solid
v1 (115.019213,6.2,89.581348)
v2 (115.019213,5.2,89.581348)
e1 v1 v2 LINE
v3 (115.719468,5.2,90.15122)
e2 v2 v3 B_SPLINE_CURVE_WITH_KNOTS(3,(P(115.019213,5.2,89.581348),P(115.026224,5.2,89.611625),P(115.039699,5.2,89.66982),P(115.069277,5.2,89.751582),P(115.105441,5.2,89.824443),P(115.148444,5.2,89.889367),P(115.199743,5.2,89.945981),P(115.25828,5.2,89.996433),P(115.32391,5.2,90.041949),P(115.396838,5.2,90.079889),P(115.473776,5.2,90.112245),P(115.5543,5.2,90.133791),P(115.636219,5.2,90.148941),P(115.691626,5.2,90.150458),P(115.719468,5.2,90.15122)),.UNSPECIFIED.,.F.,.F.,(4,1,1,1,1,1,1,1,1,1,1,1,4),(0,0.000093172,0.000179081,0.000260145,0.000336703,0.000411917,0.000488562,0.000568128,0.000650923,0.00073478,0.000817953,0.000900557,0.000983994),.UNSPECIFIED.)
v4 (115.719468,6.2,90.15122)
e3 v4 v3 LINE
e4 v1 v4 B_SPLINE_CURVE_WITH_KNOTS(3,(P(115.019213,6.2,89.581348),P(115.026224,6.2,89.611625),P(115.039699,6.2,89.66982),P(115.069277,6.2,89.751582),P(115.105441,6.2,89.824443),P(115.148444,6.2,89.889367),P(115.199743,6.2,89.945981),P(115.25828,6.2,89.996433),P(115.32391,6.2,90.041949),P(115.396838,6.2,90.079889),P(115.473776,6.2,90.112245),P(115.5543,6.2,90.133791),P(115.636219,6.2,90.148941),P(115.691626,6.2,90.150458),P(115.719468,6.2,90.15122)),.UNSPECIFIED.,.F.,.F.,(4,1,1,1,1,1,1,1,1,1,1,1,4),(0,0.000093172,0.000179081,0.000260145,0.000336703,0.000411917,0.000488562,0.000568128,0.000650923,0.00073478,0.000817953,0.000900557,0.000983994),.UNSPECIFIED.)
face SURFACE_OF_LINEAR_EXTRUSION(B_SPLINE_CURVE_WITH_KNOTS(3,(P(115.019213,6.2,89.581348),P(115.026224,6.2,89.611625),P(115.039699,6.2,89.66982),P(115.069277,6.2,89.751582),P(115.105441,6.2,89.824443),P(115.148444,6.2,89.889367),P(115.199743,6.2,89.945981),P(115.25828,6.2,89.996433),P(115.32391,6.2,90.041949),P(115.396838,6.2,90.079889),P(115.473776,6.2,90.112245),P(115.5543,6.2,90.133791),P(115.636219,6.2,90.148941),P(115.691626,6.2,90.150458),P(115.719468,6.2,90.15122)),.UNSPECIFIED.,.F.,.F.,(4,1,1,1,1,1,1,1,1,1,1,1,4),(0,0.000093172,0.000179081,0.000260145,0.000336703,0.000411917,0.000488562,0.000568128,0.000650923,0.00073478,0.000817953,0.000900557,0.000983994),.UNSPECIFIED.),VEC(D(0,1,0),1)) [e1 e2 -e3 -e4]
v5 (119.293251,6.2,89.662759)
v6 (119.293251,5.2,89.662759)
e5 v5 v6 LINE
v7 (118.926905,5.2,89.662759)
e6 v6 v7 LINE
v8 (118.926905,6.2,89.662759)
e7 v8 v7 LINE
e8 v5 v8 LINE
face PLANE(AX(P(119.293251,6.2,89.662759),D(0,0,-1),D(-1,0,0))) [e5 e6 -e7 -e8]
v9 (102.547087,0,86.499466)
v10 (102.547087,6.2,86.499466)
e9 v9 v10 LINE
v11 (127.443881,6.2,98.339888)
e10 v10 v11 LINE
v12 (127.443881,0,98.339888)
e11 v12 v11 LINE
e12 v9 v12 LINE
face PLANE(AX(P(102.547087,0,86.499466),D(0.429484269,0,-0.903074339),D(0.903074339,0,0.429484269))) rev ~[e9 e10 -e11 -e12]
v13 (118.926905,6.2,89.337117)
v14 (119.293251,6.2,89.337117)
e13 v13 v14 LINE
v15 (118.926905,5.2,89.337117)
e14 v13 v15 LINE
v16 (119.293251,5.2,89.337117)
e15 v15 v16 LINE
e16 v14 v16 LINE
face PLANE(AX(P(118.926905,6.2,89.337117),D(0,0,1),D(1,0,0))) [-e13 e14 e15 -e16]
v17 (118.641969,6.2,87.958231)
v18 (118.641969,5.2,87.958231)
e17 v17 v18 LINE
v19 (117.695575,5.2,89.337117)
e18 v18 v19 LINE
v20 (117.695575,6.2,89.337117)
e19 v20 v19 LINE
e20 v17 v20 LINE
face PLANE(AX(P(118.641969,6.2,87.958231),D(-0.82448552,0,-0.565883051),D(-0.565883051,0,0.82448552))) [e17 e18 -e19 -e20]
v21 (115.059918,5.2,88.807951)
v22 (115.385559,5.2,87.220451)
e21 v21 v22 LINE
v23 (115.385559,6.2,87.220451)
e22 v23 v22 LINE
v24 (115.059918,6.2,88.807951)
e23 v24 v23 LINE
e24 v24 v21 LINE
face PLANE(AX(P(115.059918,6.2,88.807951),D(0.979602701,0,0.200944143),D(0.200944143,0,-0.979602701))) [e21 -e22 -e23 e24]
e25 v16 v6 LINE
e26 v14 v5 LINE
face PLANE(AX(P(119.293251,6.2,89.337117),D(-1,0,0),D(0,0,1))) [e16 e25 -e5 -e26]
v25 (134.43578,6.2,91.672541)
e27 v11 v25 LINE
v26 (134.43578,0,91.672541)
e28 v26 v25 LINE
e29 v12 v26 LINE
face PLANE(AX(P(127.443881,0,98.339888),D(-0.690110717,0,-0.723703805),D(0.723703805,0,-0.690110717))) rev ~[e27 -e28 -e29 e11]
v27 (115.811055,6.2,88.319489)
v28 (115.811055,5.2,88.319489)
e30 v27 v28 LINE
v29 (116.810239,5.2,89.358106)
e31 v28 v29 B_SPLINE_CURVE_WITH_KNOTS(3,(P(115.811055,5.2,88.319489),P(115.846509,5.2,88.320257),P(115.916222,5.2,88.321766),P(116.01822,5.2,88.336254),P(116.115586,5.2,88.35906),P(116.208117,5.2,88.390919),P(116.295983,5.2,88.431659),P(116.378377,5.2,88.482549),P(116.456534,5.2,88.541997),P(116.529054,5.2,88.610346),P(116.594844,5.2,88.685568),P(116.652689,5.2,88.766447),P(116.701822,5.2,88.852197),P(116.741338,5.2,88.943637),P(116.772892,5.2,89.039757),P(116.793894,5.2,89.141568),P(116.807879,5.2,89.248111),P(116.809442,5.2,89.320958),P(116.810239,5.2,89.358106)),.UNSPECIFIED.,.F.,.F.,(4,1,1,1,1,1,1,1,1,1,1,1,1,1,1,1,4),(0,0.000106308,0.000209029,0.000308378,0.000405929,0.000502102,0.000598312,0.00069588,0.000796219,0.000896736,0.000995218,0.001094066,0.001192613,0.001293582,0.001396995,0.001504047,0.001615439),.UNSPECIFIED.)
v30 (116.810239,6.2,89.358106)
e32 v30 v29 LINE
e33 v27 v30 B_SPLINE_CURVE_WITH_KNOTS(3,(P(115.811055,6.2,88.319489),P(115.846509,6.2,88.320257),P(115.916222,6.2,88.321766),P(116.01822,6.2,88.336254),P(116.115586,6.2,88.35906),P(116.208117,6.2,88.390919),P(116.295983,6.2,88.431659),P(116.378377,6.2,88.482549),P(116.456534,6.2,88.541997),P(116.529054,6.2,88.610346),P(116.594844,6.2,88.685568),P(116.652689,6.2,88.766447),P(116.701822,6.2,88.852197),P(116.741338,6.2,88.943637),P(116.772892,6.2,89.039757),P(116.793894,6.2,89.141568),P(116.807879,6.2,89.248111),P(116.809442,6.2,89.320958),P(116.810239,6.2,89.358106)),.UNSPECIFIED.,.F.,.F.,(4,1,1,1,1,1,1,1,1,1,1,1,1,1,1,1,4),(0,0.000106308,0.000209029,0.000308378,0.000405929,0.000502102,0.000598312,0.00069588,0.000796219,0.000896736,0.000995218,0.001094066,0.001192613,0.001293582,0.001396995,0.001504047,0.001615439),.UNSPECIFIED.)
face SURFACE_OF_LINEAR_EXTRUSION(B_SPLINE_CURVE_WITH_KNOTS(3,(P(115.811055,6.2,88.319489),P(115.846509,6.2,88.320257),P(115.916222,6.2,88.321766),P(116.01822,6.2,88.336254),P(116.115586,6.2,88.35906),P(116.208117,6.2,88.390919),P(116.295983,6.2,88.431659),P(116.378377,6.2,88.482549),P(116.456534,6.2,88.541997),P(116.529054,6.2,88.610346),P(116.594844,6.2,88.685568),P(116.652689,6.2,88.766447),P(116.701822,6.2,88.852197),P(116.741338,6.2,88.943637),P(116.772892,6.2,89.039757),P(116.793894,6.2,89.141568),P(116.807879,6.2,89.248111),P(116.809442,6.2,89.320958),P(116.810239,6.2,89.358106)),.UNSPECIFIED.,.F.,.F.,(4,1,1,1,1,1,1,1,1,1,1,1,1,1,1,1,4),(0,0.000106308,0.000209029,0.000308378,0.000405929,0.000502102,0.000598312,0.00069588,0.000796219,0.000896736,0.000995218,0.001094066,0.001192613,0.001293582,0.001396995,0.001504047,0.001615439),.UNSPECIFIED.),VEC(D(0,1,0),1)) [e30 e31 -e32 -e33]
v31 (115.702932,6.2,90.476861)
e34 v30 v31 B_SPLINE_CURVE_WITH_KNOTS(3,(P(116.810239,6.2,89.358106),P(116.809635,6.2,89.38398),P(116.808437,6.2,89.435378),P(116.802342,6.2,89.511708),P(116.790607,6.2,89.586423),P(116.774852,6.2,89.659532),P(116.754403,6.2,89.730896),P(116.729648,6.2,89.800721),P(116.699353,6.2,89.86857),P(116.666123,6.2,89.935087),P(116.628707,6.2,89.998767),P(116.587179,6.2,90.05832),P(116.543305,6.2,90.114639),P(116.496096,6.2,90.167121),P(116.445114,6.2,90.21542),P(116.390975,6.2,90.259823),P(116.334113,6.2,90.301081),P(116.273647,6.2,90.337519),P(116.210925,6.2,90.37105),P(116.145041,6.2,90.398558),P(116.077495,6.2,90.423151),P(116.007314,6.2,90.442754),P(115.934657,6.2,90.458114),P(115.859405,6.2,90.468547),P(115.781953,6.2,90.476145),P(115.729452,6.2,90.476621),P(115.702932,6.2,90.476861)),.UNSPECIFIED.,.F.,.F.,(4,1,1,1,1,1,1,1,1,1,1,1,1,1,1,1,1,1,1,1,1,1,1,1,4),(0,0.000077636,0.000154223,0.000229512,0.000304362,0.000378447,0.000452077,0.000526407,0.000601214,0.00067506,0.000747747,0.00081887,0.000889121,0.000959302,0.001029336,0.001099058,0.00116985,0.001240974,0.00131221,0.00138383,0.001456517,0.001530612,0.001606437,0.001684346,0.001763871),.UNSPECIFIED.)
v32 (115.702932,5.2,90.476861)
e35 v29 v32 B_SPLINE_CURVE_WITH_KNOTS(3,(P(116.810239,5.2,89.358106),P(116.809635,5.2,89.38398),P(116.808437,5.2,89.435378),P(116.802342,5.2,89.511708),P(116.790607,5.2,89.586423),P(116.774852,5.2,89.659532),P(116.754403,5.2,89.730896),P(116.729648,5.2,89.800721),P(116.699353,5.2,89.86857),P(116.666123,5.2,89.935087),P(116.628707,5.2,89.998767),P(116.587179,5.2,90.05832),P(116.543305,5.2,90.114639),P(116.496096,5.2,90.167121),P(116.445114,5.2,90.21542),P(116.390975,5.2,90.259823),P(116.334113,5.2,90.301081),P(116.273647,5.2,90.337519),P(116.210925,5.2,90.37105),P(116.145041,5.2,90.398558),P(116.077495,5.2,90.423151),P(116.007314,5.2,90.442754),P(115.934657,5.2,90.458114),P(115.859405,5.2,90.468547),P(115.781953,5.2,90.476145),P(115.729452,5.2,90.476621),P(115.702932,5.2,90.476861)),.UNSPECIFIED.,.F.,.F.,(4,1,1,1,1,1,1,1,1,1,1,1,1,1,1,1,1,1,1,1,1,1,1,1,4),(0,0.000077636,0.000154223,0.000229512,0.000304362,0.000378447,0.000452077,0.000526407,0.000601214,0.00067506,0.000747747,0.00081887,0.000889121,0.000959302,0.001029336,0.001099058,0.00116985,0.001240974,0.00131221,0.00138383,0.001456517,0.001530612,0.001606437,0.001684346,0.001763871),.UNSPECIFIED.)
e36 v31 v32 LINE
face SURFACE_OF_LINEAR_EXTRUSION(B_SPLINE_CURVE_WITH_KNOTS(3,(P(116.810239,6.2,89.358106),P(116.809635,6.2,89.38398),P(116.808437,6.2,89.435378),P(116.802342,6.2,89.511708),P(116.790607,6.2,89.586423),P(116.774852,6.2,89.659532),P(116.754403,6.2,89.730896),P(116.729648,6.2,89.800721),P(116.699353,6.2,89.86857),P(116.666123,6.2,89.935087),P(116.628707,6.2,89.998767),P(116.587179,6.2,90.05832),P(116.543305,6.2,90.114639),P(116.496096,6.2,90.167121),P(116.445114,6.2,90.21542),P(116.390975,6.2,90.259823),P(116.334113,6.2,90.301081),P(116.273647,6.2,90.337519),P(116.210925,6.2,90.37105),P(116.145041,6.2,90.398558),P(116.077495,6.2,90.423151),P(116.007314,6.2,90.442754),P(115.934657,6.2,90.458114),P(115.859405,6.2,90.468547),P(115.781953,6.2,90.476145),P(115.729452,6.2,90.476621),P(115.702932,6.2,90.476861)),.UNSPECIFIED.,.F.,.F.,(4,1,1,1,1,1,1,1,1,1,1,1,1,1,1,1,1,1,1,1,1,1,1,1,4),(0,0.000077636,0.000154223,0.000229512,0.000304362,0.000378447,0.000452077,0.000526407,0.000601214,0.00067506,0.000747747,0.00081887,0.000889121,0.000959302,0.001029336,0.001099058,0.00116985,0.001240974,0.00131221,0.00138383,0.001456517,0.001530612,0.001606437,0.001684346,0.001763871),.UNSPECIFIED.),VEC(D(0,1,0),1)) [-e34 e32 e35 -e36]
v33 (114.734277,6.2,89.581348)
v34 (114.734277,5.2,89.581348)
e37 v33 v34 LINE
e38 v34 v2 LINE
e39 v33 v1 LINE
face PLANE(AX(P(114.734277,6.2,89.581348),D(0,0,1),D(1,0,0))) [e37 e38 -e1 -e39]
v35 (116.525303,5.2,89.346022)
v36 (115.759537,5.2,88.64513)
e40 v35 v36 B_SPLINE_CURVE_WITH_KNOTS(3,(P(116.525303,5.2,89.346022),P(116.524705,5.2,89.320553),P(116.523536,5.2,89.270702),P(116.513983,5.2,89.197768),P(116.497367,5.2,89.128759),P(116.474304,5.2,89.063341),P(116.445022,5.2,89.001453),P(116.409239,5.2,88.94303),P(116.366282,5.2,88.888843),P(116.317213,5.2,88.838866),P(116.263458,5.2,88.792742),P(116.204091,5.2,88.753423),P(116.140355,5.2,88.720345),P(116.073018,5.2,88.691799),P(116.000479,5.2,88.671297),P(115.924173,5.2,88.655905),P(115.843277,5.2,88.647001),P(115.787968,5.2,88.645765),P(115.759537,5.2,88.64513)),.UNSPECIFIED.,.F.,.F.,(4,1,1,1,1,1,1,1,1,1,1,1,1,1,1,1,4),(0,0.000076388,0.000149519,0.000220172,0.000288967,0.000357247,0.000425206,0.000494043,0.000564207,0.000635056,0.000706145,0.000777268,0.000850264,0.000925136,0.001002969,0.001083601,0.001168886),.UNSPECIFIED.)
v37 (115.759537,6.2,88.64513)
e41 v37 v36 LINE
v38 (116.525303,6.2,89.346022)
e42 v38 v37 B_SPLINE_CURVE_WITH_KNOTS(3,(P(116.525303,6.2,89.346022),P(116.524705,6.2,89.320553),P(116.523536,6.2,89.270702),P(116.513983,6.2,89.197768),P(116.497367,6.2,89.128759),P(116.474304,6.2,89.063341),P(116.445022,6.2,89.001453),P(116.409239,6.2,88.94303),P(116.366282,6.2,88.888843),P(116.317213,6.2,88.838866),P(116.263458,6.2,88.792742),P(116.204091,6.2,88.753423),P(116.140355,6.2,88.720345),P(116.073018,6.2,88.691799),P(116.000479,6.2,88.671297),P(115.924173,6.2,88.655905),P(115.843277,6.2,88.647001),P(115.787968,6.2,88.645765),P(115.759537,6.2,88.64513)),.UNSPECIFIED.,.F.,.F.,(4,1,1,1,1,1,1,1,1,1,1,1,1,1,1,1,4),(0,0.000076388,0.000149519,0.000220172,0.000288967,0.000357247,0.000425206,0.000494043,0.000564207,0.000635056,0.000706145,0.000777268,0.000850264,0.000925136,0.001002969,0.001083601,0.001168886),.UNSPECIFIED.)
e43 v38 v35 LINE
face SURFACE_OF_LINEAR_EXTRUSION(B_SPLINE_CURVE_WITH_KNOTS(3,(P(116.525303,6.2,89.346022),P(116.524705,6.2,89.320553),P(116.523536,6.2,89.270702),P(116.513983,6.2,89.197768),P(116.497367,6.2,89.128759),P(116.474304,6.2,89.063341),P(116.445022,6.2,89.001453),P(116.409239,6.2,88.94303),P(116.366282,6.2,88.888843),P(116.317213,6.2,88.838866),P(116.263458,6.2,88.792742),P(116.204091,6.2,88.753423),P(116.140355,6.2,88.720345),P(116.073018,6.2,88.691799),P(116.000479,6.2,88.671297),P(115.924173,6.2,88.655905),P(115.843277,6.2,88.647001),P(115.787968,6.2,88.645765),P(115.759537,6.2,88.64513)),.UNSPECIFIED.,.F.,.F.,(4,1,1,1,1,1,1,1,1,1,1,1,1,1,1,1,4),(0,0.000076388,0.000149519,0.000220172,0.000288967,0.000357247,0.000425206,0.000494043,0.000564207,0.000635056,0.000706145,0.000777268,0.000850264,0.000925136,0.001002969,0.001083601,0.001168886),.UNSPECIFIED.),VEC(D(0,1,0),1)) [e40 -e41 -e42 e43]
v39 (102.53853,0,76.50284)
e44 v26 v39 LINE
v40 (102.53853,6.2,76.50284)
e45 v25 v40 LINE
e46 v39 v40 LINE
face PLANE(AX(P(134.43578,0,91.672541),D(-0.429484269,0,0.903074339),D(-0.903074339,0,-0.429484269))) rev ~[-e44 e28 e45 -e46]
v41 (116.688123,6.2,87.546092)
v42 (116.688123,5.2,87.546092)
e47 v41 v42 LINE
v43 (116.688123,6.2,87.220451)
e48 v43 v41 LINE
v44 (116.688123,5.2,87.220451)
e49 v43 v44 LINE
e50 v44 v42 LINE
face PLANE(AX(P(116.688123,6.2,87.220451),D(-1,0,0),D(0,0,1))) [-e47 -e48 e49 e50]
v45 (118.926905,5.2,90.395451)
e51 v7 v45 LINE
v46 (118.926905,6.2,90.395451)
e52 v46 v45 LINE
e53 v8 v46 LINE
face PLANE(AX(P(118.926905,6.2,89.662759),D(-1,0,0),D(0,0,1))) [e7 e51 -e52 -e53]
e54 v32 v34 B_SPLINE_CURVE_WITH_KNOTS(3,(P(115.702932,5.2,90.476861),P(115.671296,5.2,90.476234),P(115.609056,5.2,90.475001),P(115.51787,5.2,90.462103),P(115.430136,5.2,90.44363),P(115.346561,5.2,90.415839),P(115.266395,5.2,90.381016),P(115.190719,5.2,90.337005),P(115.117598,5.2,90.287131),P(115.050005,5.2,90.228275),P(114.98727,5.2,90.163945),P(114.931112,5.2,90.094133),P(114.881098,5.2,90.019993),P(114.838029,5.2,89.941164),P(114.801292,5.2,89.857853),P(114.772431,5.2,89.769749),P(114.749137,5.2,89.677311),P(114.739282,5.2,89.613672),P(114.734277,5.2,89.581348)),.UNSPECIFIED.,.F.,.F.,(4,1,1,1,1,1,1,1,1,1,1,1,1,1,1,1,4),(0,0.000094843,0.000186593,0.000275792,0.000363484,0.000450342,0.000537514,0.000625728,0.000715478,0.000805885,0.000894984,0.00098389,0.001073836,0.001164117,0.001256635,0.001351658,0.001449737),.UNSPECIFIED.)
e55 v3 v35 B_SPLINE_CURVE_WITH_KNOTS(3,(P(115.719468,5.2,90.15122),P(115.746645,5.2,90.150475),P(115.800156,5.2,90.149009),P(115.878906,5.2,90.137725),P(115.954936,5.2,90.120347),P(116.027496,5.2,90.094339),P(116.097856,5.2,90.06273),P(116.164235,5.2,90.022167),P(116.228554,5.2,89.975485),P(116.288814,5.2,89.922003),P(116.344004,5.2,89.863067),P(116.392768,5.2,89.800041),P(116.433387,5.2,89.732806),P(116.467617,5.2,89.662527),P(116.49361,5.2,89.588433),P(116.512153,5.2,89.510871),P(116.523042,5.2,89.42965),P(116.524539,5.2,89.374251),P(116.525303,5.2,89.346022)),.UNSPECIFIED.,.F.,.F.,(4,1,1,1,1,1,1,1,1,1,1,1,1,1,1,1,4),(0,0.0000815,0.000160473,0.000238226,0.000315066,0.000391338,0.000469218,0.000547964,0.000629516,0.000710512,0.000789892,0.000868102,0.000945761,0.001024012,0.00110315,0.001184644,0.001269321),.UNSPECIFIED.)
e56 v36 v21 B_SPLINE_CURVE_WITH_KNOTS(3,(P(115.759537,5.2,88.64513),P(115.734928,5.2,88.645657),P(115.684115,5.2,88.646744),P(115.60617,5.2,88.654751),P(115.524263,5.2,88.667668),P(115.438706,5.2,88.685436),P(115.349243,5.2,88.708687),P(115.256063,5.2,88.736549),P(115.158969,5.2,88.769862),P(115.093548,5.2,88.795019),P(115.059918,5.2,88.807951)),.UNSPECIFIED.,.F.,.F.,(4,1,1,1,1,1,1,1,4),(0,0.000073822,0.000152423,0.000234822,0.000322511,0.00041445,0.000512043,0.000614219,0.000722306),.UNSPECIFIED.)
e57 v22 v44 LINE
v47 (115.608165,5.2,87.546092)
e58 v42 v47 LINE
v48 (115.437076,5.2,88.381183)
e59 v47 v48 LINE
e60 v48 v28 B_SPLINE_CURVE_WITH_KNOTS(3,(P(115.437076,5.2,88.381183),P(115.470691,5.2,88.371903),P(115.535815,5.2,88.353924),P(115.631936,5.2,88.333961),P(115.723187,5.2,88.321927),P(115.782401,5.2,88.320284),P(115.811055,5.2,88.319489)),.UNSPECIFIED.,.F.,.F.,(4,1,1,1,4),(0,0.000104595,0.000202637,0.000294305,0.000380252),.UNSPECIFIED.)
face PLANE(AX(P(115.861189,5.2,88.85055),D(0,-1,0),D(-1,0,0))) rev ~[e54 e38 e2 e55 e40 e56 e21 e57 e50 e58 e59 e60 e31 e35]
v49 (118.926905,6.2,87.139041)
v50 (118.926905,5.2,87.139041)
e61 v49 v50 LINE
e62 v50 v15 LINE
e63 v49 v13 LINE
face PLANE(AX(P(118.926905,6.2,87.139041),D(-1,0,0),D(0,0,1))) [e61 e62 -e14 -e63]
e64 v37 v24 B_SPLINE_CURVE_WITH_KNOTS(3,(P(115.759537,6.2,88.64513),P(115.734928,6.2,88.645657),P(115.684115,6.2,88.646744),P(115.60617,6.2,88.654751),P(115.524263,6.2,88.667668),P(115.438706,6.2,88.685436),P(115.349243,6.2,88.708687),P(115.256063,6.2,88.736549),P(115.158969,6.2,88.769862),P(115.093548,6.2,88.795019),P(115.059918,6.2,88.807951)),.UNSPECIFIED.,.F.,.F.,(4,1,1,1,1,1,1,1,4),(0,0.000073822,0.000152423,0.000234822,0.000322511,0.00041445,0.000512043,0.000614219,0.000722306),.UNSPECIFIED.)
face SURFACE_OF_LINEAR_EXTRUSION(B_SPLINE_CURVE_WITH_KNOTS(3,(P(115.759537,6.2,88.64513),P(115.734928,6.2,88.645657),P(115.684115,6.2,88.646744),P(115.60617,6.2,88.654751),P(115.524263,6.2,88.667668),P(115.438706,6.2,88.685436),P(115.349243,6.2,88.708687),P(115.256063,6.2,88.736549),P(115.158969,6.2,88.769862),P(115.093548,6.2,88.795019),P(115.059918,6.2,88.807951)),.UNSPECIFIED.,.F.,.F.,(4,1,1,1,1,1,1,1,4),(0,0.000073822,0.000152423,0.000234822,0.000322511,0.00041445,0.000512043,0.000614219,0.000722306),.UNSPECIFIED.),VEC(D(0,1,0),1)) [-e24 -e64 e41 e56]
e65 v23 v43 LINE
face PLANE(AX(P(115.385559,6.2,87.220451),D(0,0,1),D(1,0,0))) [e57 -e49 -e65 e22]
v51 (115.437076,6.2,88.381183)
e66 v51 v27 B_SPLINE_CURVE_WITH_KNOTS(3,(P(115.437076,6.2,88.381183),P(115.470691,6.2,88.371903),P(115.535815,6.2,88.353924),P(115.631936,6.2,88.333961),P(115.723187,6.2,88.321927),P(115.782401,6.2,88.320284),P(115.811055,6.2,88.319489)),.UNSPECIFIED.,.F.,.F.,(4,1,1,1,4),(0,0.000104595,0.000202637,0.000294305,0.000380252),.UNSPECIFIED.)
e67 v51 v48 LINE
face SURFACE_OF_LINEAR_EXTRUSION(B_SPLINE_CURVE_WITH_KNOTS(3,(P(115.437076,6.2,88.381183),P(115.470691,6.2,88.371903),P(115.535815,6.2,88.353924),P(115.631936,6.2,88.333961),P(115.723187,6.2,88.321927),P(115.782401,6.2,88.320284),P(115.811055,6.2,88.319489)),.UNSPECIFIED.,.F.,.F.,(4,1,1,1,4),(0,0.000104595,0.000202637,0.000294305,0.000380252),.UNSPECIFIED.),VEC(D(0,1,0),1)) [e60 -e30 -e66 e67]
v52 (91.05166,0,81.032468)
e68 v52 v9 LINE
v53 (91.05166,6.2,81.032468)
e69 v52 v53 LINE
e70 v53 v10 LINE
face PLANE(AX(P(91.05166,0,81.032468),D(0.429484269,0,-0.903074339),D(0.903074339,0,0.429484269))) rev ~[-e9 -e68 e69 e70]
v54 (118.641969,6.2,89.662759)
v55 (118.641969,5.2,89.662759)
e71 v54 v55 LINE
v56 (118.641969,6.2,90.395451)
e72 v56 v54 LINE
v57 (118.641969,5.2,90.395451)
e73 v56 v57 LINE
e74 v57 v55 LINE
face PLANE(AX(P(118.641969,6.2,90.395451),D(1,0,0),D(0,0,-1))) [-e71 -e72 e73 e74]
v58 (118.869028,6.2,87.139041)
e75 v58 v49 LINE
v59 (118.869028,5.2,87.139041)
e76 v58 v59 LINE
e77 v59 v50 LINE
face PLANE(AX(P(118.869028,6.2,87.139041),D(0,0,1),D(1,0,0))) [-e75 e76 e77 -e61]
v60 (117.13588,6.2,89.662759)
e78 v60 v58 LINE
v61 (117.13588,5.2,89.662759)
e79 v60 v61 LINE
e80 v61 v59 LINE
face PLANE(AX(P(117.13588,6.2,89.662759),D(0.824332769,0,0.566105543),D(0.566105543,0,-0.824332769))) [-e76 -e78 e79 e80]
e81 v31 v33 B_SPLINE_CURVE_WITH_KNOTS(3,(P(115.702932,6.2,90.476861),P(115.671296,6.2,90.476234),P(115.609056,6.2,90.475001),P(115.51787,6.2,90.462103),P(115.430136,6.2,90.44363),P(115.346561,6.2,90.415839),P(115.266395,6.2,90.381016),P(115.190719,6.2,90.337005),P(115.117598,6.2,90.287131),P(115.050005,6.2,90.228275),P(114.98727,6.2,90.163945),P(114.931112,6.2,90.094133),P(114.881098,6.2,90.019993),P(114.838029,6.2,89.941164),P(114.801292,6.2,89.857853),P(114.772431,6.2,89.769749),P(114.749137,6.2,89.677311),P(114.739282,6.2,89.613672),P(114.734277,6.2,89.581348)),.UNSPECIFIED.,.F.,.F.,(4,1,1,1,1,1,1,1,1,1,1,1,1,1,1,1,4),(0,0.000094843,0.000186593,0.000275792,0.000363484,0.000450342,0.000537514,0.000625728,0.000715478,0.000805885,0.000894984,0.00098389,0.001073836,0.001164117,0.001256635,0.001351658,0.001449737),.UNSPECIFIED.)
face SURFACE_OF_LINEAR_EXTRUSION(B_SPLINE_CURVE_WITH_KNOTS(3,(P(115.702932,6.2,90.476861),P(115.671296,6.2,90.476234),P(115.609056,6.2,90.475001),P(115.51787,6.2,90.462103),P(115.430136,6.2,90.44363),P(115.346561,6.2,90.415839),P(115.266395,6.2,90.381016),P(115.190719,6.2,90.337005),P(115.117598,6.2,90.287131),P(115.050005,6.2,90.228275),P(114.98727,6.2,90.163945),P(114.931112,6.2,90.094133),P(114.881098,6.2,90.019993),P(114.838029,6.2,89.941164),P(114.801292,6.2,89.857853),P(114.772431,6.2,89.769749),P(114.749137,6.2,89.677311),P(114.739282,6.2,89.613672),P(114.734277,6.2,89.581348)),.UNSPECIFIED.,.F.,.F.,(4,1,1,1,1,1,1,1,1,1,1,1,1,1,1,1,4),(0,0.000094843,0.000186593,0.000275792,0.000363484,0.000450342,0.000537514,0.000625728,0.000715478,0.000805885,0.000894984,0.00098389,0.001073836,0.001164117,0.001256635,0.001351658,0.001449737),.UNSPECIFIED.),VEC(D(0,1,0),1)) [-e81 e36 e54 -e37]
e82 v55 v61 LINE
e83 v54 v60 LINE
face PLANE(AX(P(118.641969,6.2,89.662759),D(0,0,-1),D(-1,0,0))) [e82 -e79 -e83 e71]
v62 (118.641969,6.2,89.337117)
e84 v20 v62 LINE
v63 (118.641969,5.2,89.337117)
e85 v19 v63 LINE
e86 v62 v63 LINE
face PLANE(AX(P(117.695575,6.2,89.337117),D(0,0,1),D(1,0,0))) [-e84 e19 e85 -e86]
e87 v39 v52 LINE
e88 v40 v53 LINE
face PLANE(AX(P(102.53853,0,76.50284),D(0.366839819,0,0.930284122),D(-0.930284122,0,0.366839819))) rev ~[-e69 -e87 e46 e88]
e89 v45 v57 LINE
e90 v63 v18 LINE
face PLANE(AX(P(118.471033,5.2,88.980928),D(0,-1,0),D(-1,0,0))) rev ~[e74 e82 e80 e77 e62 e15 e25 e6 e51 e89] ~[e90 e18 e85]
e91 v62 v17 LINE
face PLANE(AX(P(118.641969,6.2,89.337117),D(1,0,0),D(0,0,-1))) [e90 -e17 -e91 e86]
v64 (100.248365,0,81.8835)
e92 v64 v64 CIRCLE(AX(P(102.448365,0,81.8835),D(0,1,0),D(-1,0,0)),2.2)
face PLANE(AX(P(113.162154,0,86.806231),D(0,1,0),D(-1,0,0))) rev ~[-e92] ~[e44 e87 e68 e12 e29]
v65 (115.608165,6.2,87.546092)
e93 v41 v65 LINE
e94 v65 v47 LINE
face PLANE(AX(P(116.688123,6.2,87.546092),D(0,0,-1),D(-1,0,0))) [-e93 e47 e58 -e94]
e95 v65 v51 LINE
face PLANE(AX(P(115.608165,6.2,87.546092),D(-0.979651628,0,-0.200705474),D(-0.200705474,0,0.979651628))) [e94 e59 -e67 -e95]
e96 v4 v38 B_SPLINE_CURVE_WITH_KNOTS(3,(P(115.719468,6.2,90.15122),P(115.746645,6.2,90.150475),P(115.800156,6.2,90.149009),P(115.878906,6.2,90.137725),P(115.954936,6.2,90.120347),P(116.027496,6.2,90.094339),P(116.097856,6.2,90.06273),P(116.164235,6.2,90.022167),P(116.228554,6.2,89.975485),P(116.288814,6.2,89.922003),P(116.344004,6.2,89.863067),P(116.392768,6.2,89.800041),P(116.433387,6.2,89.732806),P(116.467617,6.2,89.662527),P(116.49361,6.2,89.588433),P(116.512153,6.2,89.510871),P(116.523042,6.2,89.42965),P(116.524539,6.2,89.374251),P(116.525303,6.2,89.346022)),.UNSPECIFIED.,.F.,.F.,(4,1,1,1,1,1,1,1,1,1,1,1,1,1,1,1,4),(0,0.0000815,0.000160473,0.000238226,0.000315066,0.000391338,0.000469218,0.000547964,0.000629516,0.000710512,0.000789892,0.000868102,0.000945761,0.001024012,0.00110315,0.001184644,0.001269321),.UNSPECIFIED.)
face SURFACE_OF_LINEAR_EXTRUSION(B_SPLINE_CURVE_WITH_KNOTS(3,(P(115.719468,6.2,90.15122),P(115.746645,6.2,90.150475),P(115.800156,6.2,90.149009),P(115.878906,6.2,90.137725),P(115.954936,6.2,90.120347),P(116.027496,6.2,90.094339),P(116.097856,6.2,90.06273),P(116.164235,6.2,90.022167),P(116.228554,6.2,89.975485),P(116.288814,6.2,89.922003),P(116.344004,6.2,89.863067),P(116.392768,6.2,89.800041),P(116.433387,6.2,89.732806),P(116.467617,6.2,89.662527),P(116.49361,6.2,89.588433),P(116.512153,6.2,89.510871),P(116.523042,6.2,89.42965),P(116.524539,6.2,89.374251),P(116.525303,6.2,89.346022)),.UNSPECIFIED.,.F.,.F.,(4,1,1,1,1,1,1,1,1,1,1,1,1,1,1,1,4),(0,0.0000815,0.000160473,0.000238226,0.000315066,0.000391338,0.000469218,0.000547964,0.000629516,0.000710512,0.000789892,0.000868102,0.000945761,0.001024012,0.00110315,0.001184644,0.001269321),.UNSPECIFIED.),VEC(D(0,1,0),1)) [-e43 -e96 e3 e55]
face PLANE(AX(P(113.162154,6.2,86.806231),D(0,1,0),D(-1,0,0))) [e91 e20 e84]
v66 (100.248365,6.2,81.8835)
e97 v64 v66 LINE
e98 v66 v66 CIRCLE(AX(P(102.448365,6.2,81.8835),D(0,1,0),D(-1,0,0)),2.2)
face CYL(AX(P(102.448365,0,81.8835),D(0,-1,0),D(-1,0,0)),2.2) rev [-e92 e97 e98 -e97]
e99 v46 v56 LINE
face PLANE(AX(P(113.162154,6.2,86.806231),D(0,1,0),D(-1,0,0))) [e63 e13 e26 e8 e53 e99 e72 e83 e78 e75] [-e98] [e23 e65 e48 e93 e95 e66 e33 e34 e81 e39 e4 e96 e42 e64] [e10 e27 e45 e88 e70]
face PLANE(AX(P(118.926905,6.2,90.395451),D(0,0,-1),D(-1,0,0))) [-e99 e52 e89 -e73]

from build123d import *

# Parameters (mm, degrees)
SKETCH1_R           = 2.2
BOSS_EXTRUDE1_DEPTH = 6.2
CUT_EXTRUDE1_DEPTH  = 1


with BuildPart() as part:
    # Sketch1 → Boss-Extrude1 (new body)
    with BuildSketch(Plane(origin=(0, 0, 0), x_dir=(-1, 0, 0), z_dir=(0, 1, 0))):
        Polygon((-127.443880814, 98.339887686), (-134.435779681, 91.672540756), (-102.538529649, 76.502840404), (-91.051660388, 81.032468444), (-102.547087364, 86.499465833), align=None)
        with Locations((-102.448365494, 81.883499702)):
            Circle(SKETCH1_R, mode=Mode.SUBTRACT)
    extrude(amount=BOSS_EXTRUDE1_DEPTH)

    # Sketch2 → Cut-Extrude1 (cut)
    with BuildSketch(Plane(origin=(0, 6.2, 0), x_dir=(1, 0, 0), z_dir=(0, 1, 0))):
        with BuildLine():
            Line((116.688123147, -87.22045081), (116.688123147, -87.546091836))
            Line((116.688123147, -87.546091836), (115.608165214, -87.546091836))
            Line((115.608165214, -87.546091836), (115.437076472, -88.381182982))
            add(Edge.make_bspline(
                [(115.437076472, -88.381182982), (115.470691444, -88.371902664), (115.535815135, -88.353923515), (115.631935866, -88.333961138), (115.723187365, -88.321927485), (115.782401451, -88.320284368), (115.811054838, -88.319489272)],
                knots=[0, 0, 0, 0, 0.000104595, 0.000202637, 0.000294305, 0.000380252, 0.000380252, 0.000380252, 0.000380252], degree=3))
            add(Edge.make_bspline(
                [(115.811054838, -88.319489272), (115.846509373, -88.320256656), (115.916221848, -88.321765526), (116.018220035, -88.336254275), (116.115586303, -88.359059769), (116.208117024, -88.3909191), (116.295983381, -88.431658643), (116.378376955, -88.482549303), (116.45653449, -88.541997397), (116.529053843, -88.610346086), (116.594843751, -88.685567839), (116.652688613, -88.766446764), (116.70182182, -88.852196858), (116.741337648, -88.94363741), (116.772892008, -89.039757499), (116.793894175, -89.141568485), (116.807879332, -89.248110708), (116.809441783, -89.320958425), (116.810238532, -89.358106059)],
                knots=[0, 0, 0, 0, 0.000106308, 0.000209029, 0.000308378, 0.000405929, 0.000502102, 0.000598312, 0.00069588, 0.000796219, 0.000896736, 0.000995218, 0.001094066, 0.001192613, 0.001293582, 0.001396995, 0.001504047, 0.001615439, 0.001615439, 0.001615439, 0.001615439], degree=3))
            add(Edge.make_bspline(
                [(116.810238532, -89.358106059), (116.809635213, -89.383979787), (116.80843673, -89.435377583), (116.802342011, -89.511708394), (116.790607469, -89.586423249), (116.774852462, -89.659532062), (116.754403269, -89.730896421), (116.729648198, -89.800720593), (116.69935323, -89.868569986), (116.66612334, -89.935086594), (116.628706892, -89.998766669), (116.587179246, -90.058319678), (116.543304836, -90.11463899), (116.496095865, -90.167120591), (116.445113534, -90.215419615), (116.390975278, -90.259822698), (116.334113097, -90.301080762), (116.27364727, -90.337519054), (116.210925161, -90.371049735), (116.145040992, -90.398557516), (116.0774945, -90.423150638), (116.007313506, -90.442753566), (115.934656976, -90.458113812), (115.859405144, -90.4685465), (115.781952679, -90.476145125), (115.729451774, -90.476620792), (115.702931841, -90.476861067)],
                knots=[0, 0, 0, 0, 7.7636e-05, 0.000154223, 0.000229512, 0.000304362, 0.000378447, 0.000452077, 0.000526407, 0.000601214, 0.00067506, 0.000747747, 0.00081887, 0.000889121, 0.000959302, 0.001029336, 0.001099058, 0.00116985, 0.001240974, 0.00131221, 0.00138383, 0.001456517, 0.001530612, 0.001606437, 0.001684346, 0.001763871, 0.001763871, 0.001763871, 0.001763871], degree=3))
            add(Edge.make_bspline(
                [(115.702931841, -90.476861067), (115.671295977, -90.476234378), (115.609056152, -90.475001442), (115.517869638, -90.462103245), (115.430135674, -90.443630263), (115.346560511, -90.41583879), (115.26639515, -90.38101603), (115.190718827, -90.337004931), (115.117597873, -90.28713103), (115.050004812, -90.228275281), (114.987270337, -90.163944627), (114.93111229, -90.094133052), (114.88109826, -90.019992773), (114.83802916, -89.941163733), (114.80129167, -89.857853066), (114.77243093, -89.769748629), (114.749136994, -89.677310768), (114.73928232, -89.613671513), (114.734276993, -89.581348246)],
                knots=[0, 0, 0, 0, 9.4843e-05, 0.000186593, 0.000275792, 0.000363484, 0.000450342, 0.000537514, 0.000625728, 0.000715478, 0.000805885, 0.000894984, 0.00098389, 0.001073836, 0.001164117, 0.001256635, 0.001351658, 0.001449737, 0.001449737, 0.001449737, 0.001449737], degree=3))
            Line((114.734276993, -89.581348246), (115.019212891, -89.581348246))
            add(Edge.make_bspline(
                [(115.019212891, -89.581348246), (115.026223796, -89.611625457), (115.039699146, -89.669819936), (115.069277218, -89.751581939), (115.105441262, -89.824442949), (115.148443778, -89.889366785), (115.199742735, -89.945980661), (115.258280145, -89.996433282), (115.323909866, -90.041949292), (115.396838009, -90.079888516), (115.473775589, -90.112245171), (115.554300129, -90.133791352), (115.636219072, -90.148941447), (115.691625879, -90.150457973), (115.719468299, -90.151220041)],
                knots=[0, 0, 0, 0, 9.3172e-05, 0.000179081, 0.000260145, 0.000336703, 0.000411917, 0.000488562, 0.000568128, 0.000650923, 0.00073478, 0.000817953, 0.000900557, 0.000983994, 0.000983994, 0.000983994, 0.000983994], degree=3))
            add(Edge.make_bspline(
                [(115.719468299, -90.151220041), (115.746644888, -90.150475478), (115.800155814, -90.149009428), (115.878906143, -90.137725467), (115.954936393, -90.120346813), (116.027496353, -90.094339159), (116.097855749, -90.062730021), (116.164234813, -90.02216706), (116.228553851, -89.975485472), (116.288813658, -89.922003386), (116.34400373, -89.863066591), (116.392768211, -89.80004067), (116.433387268, -89.732806102), (116.467617496, -89.662526885), (116.493610131, -89.588432765), (116.512153021, -89.510870985), (116.52304151, -89.429649967), (116.524539366, -89.374251379), (116.525302634, -89.346021724)],
                knots=[0, 0, 0, 0, 8.15e-05, 0.000160473, 0.000238226, 0.000315066, 0.000391338, 0.000469218, 0.000547964, 0.000629516, 0.000710512, 0.000789892, 0.000868102, 0.000945761, 0.001024012, 0.00110315, 0.001184644, 0.001269321, 0.001269321, 0.001269321, 0.001269321], degree=3))
            add(Edge.make_bspline(
                [(116.525302634, -89.346021724), (116.524705299, -89.320553006), (116.523536101, -89.270701615), (116.513983369, -89.19776805), (116.497367259, -89.128758933), (116.474304168, -89.06334102), (116.445022043, -89.001452612), (116.409238602, -88.943029836), (116.366282306, -88.888842716), (116.317213235, -88.838865899), (116.263457727, -88.792742334), (116.204090903, -88.753423056), (116.140355112, -88.720345073), (116.073018261, -88.691799103), (116.000478675, -88.671296999), (115.924172873, -88.655904703), (115.843276859, -88.647000766), (115.787967735, -88.645765339), (115.75953741, -88.645130297)],
                knots=[0, 0, 0, 0, 7.6388e-05, 0.000149519, 0.000220172, 0.000288967, 0.000357247, 0.000425206, 0.000494043, 0.000564207, 0.000635056, 0.000706145, 0.000777268, 0.000850264, 0.000925136, 0.001002969, 0.001083601, 0.001168886, 0.001168886, 0.001168886, 0.001168886], degree=3))
            add(Edge.make_bspline(
                [(115.75953741, -88.645130297), (115.734927596, -88.645656977), (115.684114573, -88.646744435), (115.606170295, -88.654751329), (115.524262803, -88.667668403), (115.438706082, -88.685435928), (115.349243193, -88.708686976), (115.256062929, -88.736549416), (115.158969373, -88.769861515), (115.093548295, -88.795018594), (115.059918019, -88.80795081)],
                knots=[0, 0, 0, 0, 7.3822e-05, 0.000152423, 0.000234822, 0.000322511, 0.00041445, 0.000512043, 0.000614219, 0.000722306, 0.000722306, 0.000722306, 0.000722306], degree=3))
            Line((115.059918019, -88.80795081), (115.385559044, -87.22045081))
            Line((115.385559044, -87.22045081), (116.688123147, -87.22045081))
        make_face()
        Polygon((118.869027594, -87.139040554), (118.926905198, -87.139040554), (118.926905198, -89.337117477), (119.293251352, -89.337117477), (119.293251352, -89.662758503), (118.926905198, -89.662758503), (118.926905198, -90.39545081), (118.641969301, -90.39545081), (118.641969301, -89.662758503), (117.135879557, -89.662758503), align=None)
        Polygon((118.641969301, -89.337117477), (118.641969301, -87.958231259), (117.69557507, -89.337117477), align=None, mode=Mode.SUBTRACT)
    extrude(amount=-CUT_EXTRUDE1_DEPTH, mode=Mode.SUBTRACT)


solid = part.part
